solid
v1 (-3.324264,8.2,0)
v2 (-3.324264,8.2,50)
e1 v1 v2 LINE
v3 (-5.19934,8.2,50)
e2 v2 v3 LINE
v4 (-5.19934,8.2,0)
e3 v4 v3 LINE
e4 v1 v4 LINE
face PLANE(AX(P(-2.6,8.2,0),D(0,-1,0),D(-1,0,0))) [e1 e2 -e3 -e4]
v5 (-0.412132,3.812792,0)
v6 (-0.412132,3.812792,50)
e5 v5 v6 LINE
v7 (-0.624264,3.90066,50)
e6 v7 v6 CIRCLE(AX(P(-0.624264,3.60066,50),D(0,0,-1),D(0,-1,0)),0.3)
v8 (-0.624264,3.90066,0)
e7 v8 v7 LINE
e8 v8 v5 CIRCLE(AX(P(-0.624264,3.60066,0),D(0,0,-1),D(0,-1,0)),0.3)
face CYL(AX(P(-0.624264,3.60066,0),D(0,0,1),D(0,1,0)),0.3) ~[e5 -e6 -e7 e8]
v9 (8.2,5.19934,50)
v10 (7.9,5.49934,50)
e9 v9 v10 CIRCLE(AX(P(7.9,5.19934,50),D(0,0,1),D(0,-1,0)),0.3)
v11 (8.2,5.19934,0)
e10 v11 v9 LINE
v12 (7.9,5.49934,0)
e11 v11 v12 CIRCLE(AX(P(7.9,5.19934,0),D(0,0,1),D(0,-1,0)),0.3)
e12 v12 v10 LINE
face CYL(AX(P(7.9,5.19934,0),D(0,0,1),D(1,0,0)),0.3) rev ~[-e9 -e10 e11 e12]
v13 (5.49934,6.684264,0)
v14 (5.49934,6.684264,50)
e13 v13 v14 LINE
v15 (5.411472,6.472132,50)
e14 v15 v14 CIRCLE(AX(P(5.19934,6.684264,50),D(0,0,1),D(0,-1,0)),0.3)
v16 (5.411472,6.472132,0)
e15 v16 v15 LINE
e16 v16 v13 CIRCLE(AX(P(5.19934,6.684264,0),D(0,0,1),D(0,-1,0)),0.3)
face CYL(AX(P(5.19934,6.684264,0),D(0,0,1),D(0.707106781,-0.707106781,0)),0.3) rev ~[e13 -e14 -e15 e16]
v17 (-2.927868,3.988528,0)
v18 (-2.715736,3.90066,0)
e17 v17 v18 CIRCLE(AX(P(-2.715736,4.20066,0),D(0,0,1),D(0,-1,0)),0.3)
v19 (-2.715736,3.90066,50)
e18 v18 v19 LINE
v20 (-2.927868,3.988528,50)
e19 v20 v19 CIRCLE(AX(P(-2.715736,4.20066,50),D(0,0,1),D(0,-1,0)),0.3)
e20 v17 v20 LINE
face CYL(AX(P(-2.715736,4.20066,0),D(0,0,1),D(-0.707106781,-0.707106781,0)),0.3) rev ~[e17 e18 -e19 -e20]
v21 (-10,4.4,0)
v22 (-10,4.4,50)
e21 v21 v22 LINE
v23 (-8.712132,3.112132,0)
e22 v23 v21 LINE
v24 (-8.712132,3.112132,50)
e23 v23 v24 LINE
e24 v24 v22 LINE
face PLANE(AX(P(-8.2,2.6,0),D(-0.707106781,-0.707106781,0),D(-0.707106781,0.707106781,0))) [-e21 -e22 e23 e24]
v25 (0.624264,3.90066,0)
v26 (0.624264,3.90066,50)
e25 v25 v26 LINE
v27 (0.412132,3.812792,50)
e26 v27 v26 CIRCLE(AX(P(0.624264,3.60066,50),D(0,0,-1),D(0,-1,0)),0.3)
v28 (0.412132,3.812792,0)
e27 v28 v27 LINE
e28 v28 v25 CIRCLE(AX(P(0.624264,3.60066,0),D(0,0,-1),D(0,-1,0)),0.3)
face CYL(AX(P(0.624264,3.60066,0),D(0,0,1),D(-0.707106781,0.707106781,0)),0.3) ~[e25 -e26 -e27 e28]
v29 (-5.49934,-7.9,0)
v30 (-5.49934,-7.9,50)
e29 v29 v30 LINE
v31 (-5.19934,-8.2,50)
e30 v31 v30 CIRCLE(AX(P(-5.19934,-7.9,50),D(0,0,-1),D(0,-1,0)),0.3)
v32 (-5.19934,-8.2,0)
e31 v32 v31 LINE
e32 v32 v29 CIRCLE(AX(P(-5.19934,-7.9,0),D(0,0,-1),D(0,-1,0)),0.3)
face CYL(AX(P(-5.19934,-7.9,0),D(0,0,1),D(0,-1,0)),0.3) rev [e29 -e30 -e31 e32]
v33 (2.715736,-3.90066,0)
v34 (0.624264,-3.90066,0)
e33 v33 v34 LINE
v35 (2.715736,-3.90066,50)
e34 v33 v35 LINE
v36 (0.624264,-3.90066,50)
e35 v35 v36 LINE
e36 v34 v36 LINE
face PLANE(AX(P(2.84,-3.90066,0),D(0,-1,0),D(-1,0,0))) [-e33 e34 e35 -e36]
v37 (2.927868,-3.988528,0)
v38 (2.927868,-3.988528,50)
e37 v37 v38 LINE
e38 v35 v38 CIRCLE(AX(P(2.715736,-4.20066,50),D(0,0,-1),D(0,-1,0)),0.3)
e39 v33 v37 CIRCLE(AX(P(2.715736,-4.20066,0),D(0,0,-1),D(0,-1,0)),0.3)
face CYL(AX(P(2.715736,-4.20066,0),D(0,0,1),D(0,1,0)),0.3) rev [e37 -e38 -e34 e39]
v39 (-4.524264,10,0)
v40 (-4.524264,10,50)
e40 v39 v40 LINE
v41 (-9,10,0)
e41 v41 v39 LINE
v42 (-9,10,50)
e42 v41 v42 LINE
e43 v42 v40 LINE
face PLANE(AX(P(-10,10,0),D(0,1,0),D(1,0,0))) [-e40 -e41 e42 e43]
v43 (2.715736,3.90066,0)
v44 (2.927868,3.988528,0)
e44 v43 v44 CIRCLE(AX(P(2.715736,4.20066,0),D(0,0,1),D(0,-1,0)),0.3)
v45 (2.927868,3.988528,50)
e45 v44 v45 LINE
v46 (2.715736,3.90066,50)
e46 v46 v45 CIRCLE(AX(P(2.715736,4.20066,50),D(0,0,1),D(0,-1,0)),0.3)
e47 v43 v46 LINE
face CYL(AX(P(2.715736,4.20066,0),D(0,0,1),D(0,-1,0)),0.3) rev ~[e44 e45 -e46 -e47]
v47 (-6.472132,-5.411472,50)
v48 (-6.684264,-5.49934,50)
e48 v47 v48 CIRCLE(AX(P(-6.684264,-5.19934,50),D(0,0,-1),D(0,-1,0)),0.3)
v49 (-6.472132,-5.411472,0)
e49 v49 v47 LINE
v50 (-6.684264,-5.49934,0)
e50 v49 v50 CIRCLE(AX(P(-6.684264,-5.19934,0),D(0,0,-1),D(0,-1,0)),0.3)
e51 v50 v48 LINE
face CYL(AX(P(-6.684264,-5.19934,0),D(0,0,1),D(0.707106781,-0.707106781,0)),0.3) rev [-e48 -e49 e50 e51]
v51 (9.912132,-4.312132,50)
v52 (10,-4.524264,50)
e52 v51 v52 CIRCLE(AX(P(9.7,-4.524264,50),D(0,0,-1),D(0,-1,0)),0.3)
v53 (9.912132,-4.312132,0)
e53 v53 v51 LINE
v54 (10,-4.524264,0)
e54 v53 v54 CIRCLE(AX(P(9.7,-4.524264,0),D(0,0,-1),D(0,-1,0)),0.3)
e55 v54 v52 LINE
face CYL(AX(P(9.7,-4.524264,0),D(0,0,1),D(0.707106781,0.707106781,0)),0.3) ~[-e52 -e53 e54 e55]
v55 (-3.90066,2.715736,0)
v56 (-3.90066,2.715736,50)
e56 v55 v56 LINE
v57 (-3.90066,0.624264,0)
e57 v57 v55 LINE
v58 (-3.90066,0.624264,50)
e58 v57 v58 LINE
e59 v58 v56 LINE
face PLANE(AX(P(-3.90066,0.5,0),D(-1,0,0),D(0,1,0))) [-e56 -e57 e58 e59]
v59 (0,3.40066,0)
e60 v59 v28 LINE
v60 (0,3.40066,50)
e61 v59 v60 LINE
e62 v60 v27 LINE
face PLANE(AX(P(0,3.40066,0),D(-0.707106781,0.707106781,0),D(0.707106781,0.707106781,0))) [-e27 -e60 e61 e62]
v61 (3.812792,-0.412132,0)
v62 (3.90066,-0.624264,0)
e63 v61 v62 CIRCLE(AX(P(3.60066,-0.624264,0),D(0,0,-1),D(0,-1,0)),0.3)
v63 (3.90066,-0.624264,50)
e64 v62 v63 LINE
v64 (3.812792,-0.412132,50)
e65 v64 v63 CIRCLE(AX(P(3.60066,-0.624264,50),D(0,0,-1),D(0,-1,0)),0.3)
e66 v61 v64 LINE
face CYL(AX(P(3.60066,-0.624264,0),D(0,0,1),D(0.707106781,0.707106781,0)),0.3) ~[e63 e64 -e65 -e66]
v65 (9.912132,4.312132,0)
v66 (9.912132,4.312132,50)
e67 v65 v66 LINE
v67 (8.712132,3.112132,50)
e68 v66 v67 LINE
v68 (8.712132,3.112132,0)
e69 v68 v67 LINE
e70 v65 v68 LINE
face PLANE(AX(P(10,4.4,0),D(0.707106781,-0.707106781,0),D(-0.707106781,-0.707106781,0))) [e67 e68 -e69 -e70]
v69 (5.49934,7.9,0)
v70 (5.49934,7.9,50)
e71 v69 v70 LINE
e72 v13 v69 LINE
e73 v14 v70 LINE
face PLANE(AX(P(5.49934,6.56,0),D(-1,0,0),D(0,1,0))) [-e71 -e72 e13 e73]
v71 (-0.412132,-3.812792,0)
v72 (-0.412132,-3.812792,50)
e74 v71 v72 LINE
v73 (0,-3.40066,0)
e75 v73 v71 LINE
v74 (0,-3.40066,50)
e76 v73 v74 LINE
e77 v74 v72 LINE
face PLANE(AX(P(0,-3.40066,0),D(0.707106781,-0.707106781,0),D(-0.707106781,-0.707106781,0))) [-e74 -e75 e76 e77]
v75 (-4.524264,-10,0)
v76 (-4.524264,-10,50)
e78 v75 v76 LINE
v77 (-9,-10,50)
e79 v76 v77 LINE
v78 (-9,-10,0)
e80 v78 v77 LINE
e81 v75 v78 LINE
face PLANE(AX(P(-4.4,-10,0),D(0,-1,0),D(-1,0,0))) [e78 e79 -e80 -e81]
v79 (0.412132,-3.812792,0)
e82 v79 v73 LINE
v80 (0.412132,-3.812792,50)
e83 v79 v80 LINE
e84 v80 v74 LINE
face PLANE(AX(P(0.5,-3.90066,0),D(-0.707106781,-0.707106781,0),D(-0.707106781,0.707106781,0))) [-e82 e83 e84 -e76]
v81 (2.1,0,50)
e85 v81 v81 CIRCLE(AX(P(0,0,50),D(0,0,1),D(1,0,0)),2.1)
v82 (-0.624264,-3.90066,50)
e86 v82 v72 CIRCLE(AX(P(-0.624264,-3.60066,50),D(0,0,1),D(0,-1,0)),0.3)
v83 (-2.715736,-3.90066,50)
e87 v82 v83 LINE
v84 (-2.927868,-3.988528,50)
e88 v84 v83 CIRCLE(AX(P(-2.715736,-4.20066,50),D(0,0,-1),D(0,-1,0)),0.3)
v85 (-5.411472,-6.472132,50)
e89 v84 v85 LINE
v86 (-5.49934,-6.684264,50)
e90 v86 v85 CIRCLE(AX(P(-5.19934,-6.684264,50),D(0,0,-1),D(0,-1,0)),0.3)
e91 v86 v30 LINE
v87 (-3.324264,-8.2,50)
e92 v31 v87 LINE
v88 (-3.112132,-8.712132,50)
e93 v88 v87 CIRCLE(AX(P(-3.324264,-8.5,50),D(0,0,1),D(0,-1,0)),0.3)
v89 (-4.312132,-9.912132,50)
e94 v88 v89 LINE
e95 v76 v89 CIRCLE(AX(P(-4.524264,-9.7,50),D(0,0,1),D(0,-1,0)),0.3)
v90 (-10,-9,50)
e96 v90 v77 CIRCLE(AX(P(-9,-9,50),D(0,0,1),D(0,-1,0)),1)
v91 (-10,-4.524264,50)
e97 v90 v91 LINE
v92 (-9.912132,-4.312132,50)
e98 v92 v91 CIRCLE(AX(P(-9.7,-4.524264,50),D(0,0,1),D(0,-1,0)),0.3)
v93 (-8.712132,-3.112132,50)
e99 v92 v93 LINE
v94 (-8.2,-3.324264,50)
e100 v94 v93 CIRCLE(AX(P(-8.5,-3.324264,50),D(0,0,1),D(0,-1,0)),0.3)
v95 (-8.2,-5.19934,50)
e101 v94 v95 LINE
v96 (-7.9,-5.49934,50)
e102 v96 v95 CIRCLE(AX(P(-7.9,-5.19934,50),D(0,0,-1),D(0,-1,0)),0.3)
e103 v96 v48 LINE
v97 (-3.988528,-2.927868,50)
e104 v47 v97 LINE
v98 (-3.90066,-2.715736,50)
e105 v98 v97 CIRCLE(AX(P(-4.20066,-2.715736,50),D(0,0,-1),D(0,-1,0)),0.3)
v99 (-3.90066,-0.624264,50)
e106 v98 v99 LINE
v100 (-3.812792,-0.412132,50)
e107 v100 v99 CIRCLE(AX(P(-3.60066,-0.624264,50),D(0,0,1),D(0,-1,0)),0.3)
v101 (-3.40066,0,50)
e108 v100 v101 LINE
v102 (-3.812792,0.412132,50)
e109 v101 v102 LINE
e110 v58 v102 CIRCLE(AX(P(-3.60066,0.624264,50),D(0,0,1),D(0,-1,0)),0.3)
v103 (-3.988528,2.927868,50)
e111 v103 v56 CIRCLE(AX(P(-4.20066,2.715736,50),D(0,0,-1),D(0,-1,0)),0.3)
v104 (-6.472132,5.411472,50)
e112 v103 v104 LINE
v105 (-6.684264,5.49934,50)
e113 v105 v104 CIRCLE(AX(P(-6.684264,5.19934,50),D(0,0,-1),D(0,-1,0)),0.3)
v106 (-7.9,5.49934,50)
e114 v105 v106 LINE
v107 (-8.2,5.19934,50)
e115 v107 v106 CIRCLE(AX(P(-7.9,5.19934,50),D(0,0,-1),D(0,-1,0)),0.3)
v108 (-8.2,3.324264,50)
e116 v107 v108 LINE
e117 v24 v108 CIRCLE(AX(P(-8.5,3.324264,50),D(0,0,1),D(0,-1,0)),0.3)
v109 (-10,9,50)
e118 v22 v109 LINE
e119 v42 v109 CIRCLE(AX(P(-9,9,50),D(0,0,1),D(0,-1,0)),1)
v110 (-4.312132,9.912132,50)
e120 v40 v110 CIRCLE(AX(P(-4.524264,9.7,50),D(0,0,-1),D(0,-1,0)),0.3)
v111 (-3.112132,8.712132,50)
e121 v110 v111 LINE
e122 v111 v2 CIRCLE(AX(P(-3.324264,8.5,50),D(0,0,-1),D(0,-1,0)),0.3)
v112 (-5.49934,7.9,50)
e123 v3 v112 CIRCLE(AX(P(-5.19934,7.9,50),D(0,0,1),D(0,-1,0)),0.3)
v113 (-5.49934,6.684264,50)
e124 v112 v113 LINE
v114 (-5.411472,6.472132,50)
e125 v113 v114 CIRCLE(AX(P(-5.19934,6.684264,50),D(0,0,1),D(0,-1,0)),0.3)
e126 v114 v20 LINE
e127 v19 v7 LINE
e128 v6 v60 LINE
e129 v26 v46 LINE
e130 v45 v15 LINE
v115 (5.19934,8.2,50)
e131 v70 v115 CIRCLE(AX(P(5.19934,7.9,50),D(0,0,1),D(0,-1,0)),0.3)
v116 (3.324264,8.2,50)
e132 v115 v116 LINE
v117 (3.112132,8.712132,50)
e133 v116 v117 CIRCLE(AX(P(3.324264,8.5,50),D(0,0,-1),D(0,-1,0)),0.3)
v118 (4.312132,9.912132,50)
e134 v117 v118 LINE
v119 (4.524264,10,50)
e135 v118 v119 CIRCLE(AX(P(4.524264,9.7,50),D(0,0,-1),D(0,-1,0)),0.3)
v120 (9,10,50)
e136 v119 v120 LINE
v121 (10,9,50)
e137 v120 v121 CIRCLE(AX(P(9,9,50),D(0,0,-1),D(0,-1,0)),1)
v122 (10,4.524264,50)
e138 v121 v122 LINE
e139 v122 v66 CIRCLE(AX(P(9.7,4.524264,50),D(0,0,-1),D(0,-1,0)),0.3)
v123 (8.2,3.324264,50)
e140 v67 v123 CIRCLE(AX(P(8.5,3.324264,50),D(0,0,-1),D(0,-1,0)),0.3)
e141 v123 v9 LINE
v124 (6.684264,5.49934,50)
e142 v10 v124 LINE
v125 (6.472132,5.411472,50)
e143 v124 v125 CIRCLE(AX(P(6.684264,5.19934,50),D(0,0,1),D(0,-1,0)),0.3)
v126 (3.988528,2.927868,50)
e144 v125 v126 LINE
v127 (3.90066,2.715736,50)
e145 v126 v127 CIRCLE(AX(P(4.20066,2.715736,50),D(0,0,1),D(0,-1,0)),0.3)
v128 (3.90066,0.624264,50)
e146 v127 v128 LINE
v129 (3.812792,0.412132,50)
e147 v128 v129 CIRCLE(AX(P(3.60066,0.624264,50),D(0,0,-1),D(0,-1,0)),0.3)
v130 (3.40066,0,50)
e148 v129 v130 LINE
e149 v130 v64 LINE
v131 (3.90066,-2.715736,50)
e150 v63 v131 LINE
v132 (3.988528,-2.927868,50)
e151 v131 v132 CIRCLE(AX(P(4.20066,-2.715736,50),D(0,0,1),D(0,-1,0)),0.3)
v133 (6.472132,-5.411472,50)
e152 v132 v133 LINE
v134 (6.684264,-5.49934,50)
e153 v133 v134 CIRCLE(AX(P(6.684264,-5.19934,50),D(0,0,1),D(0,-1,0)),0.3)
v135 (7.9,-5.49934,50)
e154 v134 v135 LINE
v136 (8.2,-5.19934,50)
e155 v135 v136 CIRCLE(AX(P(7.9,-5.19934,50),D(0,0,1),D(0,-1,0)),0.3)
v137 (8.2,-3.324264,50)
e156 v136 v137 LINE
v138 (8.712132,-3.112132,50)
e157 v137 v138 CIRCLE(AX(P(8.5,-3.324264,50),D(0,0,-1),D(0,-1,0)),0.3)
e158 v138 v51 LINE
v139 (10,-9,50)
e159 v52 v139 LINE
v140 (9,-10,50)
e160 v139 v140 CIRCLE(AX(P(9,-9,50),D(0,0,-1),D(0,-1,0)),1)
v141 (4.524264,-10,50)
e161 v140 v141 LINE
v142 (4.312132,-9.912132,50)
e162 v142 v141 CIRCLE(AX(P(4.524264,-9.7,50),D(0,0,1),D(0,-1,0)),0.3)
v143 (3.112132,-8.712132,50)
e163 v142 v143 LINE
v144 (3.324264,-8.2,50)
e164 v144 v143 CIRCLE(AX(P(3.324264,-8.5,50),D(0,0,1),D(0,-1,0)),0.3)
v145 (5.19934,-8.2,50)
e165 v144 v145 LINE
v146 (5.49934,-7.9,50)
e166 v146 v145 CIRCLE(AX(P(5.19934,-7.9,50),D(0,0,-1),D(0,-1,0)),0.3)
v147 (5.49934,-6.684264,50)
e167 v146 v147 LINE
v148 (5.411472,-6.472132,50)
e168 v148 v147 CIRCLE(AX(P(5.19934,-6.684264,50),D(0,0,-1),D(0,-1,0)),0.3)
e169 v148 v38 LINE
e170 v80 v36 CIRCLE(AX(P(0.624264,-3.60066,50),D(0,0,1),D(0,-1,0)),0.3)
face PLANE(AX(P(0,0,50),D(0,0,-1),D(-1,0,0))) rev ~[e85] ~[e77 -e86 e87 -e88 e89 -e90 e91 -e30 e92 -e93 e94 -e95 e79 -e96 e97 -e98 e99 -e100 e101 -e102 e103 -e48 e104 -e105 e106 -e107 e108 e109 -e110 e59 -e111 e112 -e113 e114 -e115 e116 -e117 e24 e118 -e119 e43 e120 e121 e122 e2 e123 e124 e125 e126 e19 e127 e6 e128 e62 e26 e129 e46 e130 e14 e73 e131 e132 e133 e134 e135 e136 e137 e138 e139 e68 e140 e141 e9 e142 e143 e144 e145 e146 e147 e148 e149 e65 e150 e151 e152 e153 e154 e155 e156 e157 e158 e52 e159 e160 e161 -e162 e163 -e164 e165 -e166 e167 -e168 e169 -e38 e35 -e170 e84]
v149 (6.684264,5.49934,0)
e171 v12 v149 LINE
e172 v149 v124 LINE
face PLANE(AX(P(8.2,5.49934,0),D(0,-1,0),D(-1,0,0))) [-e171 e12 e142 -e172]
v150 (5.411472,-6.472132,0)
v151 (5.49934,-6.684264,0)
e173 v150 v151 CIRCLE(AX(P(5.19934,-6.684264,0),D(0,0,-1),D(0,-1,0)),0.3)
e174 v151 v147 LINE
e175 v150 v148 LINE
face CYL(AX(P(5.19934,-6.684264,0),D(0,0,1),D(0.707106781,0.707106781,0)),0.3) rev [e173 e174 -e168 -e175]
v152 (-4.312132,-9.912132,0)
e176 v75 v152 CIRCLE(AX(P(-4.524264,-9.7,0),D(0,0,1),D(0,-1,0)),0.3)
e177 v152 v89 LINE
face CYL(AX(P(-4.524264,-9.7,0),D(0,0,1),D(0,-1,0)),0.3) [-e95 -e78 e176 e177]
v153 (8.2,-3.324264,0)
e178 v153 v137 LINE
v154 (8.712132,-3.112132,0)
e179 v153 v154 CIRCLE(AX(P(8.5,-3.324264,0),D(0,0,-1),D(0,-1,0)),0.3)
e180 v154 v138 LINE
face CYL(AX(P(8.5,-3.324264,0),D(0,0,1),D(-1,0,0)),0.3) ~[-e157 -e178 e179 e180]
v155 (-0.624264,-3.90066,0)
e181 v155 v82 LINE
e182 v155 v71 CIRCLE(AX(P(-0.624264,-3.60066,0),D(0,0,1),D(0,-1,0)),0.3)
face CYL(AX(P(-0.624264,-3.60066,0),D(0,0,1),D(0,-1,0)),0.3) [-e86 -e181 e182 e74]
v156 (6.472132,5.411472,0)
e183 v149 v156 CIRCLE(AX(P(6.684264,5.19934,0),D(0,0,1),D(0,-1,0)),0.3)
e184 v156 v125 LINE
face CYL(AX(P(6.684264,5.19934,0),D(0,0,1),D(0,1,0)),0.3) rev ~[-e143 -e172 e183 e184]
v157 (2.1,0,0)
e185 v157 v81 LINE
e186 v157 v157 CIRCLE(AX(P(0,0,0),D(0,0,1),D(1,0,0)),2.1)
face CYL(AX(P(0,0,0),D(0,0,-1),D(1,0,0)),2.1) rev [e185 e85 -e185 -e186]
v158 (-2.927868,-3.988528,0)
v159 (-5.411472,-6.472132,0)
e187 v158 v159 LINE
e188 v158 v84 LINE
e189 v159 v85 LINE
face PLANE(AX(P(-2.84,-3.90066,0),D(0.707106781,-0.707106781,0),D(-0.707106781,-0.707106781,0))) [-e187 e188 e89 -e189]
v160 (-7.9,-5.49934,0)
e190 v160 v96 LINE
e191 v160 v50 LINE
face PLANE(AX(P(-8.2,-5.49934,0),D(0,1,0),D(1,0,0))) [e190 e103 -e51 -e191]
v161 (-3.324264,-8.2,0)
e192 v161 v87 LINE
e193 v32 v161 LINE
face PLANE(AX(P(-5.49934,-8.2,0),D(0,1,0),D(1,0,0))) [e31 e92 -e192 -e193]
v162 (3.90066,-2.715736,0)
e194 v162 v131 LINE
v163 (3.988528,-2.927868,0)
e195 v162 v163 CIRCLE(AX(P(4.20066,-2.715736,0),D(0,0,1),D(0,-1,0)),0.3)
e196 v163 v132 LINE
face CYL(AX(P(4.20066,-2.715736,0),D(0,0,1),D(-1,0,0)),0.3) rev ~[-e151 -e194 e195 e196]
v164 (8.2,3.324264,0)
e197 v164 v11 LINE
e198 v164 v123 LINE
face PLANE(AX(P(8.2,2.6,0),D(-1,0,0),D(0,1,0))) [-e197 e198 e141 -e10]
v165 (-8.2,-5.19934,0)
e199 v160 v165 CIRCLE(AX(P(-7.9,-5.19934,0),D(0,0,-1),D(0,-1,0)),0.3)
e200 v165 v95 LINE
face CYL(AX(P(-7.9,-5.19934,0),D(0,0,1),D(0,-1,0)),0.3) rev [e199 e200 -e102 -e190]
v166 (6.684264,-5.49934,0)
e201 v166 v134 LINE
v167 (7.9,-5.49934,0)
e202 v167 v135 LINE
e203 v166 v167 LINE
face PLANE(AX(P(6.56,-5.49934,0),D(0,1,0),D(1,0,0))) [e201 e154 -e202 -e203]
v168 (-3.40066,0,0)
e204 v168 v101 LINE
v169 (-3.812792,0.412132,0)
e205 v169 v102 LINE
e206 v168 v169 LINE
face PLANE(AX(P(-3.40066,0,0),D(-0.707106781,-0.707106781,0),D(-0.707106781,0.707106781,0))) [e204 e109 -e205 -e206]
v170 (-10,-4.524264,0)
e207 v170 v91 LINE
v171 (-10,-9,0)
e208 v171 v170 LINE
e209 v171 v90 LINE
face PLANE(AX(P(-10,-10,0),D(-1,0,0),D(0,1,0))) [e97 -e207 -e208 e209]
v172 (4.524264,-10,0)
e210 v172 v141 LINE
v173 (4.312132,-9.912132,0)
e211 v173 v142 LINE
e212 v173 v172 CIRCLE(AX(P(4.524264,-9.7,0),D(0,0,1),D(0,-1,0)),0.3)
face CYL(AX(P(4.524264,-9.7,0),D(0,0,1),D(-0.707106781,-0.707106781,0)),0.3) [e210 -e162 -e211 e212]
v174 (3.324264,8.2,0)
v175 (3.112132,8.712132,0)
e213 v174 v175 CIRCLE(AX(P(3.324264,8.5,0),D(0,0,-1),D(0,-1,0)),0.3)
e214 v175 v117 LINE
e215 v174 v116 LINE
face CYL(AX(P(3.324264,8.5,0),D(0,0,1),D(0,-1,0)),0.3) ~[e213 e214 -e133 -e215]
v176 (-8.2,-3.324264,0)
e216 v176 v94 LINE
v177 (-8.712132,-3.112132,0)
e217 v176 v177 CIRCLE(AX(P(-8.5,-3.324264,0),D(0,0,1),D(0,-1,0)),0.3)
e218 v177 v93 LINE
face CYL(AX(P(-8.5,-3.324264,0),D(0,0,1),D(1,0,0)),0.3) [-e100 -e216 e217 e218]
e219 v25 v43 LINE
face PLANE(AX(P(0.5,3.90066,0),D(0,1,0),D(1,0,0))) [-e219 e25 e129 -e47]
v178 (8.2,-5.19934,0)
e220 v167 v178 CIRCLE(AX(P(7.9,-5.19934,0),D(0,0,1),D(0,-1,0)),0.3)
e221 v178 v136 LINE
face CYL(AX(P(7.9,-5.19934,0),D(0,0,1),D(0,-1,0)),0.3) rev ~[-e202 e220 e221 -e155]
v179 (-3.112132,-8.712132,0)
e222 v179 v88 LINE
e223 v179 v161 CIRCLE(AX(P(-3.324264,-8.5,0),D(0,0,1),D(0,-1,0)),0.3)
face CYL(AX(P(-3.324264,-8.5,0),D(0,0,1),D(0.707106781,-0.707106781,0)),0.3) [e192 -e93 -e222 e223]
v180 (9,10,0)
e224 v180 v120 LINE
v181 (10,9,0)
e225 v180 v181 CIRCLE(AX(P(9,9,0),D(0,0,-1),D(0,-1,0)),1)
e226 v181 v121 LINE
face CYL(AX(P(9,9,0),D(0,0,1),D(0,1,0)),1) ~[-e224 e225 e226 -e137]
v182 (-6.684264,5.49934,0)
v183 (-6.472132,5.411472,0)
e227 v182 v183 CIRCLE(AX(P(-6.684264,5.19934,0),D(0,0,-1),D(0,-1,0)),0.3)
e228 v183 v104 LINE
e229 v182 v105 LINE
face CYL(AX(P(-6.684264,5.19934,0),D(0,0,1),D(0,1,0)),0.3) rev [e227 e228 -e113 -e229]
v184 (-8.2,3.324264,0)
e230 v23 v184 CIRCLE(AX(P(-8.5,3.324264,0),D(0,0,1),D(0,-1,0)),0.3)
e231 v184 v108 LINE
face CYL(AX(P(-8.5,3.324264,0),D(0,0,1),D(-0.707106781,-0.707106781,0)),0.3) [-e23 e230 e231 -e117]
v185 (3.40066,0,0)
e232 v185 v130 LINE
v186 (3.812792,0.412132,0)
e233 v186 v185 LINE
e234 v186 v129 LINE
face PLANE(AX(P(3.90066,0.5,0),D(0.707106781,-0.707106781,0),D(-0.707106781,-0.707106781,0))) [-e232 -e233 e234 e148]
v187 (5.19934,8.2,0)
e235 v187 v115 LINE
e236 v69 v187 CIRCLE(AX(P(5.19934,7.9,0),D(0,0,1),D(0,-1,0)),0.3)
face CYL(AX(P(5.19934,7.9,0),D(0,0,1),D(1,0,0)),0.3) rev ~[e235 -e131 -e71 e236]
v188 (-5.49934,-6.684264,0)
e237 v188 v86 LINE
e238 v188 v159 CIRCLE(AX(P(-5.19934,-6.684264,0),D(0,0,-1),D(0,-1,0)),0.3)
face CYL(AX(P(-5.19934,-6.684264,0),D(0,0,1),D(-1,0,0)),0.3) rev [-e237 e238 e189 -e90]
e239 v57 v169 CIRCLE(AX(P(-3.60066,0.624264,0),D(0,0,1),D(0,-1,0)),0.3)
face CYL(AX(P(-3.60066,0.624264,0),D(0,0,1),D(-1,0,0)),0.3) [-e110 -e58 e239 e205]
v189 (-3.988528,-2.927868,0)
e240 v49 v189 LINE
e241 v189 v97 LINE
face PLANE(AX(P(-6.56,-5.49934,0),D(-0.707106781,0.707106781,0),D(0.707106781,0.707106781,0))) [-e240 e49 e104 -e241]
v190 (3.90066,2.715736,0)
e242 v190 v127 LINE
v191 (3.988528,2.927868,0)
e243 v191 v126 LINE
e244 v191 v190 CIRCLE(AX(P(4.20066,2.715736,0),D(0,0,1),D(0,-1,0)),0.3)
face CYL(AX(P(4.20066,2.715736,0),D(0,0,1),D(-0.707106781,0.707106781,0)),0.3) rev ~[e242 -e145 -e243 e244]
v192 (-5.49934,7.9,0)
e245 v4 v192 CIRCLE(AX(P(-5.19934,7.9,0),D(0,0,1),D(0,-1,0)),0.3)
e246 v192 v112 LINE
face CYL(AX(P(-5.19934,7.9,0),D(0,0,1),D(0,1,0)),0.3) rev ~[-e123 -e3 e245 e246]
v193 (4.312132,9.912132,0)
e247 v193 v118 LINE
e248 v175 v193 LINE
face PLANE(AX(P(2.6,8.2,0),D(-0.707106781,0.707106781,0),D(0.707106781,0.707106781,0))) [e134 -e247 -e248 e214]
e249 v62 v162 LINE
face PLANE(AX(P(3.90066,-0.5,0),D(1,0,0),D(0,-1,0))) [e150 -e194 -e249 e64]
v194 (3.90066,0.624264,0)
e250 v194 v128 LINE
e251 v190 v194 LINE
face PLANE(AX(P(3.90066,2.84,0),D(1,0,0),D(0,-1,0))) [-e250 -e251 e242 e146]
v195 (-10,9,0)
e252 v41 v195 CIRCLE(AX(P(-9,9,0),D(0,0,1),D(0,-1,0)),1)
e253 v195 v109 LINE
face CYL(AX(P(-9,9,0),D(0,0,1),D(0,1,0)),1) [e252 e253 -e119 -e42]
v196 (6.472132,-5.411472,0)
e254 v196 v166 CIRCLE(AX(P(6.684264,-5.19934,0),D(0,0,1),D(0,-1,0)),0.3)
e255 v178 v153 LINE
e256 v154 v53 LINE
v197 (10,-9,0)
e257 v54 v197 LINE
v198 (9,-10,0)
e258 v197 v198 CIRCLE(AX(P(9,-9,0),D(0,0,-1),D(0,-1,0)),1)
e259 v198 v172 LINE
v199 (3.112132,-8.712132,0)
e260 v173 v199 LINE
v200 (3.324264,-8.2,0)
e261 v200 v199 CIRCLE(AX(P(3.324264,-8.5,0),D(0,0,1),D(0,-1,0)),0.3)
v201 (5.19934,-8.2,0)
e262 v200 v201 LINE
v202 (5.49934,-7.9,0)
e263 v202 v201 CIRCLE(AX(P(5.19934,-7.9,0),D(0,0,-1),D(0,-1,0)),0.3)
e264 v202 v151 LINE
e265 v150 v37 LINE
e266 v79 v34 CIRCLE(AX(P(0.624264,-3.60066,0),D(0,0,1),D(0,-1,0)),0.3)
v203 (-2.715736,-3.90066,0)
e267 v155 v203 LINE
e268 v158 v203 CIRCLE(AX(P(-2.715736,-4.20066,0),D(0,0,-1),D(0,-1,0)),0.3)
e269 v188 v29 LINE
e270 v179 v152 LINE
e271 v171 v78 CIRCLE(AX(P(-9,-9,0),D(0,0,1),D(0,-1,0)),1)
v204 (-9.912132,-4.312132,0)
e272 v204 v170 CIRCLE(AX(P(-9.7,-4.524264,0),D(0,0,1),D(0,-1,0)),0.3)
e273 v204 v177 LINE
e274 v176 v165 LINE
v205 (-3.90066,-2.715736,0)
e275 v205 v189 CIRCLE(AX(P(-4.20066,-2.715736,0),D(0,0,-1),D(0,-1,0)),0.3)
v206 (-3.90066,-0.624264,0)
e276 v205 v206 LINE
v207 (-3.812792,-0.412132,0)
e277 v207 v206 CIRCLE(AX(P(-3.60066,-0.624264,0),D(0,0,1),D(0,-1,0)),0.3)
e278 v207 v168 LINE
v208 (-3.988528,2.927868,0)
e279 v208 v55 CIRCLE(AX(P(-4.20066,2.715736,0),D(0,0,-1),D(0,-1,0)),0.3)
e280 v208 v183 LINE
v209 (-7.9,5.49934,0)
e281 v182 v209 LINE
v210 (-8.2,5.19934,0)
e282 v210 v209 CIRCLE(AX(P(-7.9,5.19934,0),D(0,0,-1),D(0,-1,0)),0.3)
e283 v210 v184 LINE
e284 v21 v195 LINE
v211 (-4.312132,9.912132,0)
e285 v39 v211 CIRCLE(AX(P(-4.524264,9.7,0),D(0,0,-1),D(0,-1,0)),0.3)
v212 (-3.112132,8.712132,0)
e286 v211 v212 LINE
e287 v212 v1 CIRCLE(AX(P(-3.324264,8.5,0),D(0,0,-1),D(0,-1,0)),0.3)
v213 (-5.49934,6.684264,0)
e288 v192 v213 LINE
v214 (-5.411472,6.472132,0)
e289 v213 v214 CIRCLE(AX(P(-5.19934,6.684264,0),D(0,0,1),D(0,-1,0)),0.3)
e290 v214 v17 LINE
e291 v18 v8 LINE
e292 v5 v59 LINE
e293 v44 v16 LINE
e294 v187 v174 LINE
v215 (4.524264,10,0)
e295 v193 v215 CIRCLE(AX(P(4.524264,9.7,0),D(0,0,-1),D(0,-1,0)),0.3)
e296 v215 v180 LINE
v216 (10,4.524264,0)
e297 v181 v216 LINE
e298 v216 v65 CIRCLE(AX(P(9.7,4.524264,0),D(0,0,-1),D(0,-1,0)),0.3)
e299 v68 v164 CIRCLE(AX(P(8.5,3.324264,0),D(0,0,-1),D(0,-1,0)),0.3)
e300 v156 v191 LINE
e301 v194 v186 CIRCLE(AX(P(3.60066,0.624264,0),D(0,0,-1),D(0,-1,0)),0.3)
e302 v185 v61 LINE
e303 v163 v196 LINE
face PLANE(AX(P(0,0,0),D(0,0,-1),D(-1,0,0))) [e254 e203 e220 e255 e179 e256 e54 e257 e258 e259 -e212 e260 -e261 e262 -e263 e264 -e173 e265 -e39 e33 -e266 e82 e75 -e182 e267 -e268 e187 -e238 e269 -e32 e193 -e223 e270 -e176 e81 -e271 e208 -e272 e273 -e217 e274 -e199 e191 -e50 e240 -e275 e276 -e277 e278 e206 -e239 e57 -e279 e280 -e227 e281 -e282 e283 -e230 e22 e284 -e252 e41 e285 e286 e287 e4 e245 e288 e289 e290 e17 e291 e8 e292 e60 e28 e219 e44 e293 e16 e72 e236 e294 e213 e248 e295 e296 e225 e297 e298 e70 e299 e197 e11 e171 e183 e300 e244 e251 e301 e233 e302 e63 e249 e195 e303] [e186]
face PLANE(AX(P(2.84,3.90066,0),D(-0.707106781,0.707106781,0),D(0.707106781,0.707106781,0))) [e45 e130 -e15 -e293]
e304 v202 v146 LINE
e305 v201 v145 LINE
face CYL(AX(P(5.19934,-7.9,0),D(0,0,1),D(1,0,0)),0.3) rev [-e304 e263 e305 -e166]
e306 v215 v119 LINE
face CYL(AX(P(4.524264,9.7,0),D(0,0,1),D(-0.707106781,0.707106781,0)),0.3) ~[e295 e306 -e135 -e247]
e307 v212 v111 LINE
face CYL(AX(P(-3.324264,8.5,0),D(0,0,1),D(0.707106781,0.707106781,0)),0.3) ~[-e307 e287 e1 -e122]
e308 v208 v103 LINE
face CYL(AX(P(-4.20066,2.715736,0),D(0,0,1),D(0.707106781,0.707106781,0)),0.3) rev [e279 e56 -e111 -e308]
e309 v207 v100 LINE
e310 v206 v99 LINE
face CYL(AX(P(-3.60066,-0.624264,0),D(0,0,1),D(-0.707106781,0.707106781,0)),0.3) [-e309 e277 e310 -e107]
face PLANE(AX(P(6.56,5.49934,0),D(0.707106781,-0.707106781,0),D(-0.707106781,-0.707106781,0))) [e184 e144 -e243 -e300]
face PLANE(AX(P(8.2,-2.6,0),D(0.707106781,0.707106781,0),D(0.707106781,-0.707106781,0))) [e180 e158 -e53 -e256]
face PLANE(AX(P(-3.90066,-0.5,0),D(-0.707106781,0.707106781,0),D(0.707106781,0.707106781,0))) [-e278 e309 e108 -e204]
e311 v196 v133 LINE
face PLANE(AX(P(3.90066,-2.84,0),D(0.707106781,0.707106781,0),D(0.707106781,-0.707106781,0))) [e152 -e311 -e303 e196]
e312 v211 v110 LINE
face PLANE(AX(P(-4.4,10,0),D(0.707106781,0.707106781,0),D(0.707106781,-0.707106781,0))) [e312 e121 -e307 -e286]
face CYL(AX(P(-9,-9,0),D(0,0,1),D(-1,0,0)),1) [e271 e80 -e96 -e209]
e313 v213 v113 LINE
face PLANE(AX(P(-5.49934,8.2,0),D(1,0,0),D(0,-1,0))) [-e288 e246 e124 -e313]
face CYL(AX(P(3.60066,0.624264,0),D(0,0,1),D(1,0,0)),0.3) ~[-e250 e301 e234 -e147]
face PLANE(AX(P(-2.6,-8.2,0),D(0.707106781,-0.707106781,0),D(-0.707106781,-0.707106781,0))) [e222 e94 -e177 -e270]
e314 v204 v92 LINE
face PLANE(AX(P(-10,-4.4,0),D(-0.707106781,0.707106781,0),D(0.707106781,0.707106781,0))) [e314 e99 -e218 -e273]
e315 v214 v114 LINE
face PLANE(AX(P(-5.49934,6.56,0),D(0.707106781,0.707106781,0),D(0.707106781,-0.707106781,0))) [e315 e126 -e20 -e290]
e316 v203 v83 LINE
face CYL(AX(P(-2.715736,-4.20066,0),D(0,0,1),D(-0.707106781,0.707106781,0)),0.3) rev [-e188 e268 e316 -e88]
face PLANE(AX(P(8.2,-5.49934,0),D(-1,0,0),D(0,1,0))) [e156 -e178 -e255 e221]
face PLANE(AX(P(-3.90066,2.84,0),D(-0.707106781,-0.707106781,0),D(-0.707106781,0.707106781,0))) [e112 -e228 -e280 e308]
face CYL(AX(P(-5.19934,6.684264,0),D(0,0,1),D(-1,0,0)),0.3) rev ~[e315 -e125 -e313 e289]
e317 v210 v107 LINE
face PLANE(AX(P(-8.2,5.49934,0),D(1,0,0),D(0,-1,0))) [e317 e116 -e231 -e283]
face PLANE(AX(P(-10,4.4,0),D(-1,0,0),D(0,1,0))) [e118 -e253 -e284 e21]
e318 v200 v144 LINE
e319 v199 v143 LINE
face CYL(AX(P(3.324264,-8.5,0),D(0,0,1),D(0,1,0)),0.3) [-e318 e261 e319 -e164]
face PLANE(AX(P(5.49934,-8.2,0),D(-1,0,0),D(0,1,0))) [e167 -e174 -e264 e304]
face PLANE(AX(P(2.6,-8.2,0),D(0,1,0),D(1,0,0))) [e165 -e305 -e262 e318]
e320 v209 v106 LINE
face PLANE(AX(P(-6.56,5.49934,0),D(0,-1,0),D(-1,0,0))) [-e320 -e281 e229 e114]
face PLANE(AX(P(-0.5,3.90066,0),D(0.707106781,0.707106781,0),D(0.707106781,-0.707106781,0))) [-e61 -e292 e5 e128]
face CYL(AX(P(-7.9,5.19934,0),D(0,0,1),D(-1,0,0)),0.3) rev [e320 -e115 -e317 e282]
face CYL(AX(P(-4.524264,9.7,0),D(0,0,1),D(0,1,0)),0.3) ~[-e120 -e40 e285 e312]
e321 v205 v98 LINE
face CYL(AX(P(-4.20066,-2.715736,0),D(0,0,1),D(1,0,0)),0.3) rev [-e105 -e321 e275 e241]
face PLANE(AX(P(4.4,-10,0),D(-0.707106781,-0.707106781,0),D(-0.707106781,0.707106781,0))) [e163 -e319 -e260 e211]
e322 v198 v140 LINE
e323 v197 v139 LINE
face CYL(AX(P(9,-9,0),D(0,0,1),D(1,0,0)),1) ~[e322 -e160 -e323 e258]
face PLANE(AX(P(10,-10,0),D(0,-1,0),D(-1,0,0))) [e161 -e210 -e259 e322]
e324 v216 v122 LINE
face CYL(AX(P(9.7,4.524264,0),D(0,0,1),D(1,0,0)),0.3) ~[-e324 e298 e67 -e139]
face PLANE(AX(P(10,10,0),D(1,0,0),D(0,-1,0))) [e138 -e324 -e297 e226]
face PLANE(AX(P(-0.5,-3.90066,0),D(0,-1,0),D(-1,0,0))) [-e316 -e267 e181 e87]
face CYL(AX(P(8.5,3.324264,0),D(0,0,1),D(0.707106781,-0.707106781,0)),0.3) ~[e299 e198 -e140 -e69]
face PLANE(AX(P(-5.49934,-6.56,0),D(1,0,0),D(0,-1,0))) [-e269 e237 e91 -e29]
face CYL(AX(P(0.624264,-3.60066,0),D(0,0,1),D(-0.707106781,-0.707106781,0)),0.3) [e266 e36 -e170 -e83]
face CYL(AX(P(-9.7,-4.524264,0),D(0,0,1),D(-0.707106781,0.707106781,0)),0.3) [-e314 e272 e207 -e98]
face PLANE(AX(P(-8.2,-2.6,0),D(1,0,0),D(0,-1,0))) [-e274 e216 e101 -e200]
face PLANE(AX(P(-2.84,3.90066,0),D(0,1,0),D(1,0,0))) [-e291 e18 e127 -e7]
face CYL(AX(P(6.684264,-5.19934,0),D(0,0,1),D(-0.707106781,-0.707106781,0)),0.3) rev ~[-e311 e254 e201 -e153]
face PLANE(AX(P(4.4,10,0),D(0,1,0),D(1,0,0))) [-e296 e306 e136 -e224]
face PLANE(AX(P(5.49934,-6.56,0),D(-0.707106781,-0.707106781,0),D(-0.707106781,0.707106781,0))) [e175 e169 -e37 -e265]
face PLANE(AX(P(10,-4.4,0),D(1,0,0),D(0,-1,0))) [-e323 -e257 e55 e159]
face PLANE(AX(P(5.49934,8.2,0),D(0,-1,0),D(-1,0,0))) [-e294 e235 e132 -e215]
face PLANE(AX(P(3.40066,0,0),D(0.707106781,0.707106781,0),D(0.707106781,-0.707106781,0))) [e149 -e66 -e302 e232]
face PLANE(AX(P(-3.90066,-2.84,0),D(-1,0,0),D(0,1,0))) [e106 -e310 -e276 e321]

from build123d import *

# Parameters (mm, degrees)
SKETCH_1_R      = 2.1
EXTRUDE_1_DEPTH = 50
FILLET_1_R      = 1
FILLET_2_R      = 0.3


with BuildPart() as part:
    # Эскиз1 → Бобышка-Вытянуть1 (new body)
    with BuildSketch(Plane.XY):
        Polygon((-10, 10), (-4.4, 10), (-2.6, 8.2), (-5.499339828, 8.2), (-5.499339828, 6.56), (-2.84, 3.900660172), (-0.5, 3.900660172), (0, 3.400660172), (0.5, 3.900660172), (2.84, 3.900660172), (5.499339828, 6.56), (5.499339828, 8.2), (2.6, 8.2), (4.4, 10), (10, 10), (10, 4.4), (8.2, 2.6), (8.2, 5.499339828), (6.56, 5.499339828), (3.900660172, 2.84), (3.900660172, 0.5), (3.400660172, 0), (3.900660172, -0.5), (3.900660172, -2.84), (6.56, -5.499339828), (8.2, -5.499339828), (8.2, -2.6), (10, -4.4), (10, -10), (4.4, -10), (2.6, -8.2), (5.499339828, -8.2), (5.499339828, -6.56), (2.84, -3.900660172), (0.5, -3.900660172), (0, -3.400660172), (-0.5, -3.900660172), (-2.84, -3.900660172), (-5.499339828, -6.56), (-5.499339828, -8.2), (-2.6, -8.2), (-4.4, -10), (-10, -10), (-10, -4.4), (-8.2, -2.6), (-8.2, -5.499339828), (-6.56, -5.499339828), (-3.900660172, -2.84), (-3.900660172, -0.5), (-3.400660172, 0), (-3.900660172, 0.5), (-3.900660172, 2.84), (-6.56, 5.499339828), (-8.2, 5.499339828), (-8.2, 2.6), (-10, 4.4), align=None)
        Circle(SKETCH_1_R, mode=Mode.SUBTRACT)
    extrude(amount=EXTRUDE_1_DEPTH)

    # Скругление1
    fillet_1_edges = [part.edges().sort_by_distance(p)[0] for p in [
        (-10, 10, 25),
        (10, 10, 25),
        (10, -10, 25),
        (-10, -10, 25),
    ]]
    fillet(fillet_1_edges, radius=FILLET_1_R)

    # Скругление2
    fillet_2_edges = [part.edges().sort_by_distance(p)[0] for p in [
        (-4.4, 10, 25),
        (-2.6, 8.2, 25),
        (-5.499339828, 8.2, 25),
        (-5.499339828, 6.56, 25),
        (-2.84, 3.900660172, 25),
        (-0.5, 3.900660172, 25),
        (0.5, 3.900660172, 25),
        (2.84, 3.900660172, 25),
        (5.499339828, 6.56, 25),
        (5.499339828, 8.2, 25),
        (2.6, 8.2, 25),
        (4.4, 10, 25),
        (10, 4.4, 25),
        (8.2, 2.6, 25),
        (8.2, 5.499339828, 25),
        (6.56, 5.499339828, 25),
        (3.900660172, 2.84, 25),
        (3.900660172, 0.5, 25),
        (3.900660172, -0.5, 25),
        (3.900660172, -2.84, 25),
        (6.56, -5.499339828, 25),
        (8.2, -5.499339828, 25),
        (8.2, -2.6, 25),
        (10, -4.4, 25),
        (4.4, -10, 25),
        (2.6, -8.2, 25),
        (5.499339828, -8.2, 25),
        (5.499339828, -6.56, 25),
        (2.84, -3.900660172, 25),
        (0.5, -3.900660172, 25),
        (-0.5, -3.900660172, 25),
        (-2.84, -3.900660172, 25),
        (-5.499339828, -6.56, 25),
        (-5.499339828, -8.2, 25),
        (-2.6, -8.2, 25),
        (-4.4, -10, 25),
        (-10, -4.4, 25),
        (-8.2, -2.6, 25),
        (-8.2, -5.499339828, 25),
        (-6.56, -5.499339828, 25),
        (-3.900660172, -2.84, 25),
        (-3.900660172, -0.5, 25),
        (-3.900660172, 0.5, 25),
        (-3.900660172, 2.84, 25),
        (-6.56, 5.499339828, 25),
        (-8.2, 5.499339828, 25),
        (-8.2, 2.6, 25),
    ]]
    fillet(fillet_2_edges, radius=FILLET_2_R)


solid = part.part
